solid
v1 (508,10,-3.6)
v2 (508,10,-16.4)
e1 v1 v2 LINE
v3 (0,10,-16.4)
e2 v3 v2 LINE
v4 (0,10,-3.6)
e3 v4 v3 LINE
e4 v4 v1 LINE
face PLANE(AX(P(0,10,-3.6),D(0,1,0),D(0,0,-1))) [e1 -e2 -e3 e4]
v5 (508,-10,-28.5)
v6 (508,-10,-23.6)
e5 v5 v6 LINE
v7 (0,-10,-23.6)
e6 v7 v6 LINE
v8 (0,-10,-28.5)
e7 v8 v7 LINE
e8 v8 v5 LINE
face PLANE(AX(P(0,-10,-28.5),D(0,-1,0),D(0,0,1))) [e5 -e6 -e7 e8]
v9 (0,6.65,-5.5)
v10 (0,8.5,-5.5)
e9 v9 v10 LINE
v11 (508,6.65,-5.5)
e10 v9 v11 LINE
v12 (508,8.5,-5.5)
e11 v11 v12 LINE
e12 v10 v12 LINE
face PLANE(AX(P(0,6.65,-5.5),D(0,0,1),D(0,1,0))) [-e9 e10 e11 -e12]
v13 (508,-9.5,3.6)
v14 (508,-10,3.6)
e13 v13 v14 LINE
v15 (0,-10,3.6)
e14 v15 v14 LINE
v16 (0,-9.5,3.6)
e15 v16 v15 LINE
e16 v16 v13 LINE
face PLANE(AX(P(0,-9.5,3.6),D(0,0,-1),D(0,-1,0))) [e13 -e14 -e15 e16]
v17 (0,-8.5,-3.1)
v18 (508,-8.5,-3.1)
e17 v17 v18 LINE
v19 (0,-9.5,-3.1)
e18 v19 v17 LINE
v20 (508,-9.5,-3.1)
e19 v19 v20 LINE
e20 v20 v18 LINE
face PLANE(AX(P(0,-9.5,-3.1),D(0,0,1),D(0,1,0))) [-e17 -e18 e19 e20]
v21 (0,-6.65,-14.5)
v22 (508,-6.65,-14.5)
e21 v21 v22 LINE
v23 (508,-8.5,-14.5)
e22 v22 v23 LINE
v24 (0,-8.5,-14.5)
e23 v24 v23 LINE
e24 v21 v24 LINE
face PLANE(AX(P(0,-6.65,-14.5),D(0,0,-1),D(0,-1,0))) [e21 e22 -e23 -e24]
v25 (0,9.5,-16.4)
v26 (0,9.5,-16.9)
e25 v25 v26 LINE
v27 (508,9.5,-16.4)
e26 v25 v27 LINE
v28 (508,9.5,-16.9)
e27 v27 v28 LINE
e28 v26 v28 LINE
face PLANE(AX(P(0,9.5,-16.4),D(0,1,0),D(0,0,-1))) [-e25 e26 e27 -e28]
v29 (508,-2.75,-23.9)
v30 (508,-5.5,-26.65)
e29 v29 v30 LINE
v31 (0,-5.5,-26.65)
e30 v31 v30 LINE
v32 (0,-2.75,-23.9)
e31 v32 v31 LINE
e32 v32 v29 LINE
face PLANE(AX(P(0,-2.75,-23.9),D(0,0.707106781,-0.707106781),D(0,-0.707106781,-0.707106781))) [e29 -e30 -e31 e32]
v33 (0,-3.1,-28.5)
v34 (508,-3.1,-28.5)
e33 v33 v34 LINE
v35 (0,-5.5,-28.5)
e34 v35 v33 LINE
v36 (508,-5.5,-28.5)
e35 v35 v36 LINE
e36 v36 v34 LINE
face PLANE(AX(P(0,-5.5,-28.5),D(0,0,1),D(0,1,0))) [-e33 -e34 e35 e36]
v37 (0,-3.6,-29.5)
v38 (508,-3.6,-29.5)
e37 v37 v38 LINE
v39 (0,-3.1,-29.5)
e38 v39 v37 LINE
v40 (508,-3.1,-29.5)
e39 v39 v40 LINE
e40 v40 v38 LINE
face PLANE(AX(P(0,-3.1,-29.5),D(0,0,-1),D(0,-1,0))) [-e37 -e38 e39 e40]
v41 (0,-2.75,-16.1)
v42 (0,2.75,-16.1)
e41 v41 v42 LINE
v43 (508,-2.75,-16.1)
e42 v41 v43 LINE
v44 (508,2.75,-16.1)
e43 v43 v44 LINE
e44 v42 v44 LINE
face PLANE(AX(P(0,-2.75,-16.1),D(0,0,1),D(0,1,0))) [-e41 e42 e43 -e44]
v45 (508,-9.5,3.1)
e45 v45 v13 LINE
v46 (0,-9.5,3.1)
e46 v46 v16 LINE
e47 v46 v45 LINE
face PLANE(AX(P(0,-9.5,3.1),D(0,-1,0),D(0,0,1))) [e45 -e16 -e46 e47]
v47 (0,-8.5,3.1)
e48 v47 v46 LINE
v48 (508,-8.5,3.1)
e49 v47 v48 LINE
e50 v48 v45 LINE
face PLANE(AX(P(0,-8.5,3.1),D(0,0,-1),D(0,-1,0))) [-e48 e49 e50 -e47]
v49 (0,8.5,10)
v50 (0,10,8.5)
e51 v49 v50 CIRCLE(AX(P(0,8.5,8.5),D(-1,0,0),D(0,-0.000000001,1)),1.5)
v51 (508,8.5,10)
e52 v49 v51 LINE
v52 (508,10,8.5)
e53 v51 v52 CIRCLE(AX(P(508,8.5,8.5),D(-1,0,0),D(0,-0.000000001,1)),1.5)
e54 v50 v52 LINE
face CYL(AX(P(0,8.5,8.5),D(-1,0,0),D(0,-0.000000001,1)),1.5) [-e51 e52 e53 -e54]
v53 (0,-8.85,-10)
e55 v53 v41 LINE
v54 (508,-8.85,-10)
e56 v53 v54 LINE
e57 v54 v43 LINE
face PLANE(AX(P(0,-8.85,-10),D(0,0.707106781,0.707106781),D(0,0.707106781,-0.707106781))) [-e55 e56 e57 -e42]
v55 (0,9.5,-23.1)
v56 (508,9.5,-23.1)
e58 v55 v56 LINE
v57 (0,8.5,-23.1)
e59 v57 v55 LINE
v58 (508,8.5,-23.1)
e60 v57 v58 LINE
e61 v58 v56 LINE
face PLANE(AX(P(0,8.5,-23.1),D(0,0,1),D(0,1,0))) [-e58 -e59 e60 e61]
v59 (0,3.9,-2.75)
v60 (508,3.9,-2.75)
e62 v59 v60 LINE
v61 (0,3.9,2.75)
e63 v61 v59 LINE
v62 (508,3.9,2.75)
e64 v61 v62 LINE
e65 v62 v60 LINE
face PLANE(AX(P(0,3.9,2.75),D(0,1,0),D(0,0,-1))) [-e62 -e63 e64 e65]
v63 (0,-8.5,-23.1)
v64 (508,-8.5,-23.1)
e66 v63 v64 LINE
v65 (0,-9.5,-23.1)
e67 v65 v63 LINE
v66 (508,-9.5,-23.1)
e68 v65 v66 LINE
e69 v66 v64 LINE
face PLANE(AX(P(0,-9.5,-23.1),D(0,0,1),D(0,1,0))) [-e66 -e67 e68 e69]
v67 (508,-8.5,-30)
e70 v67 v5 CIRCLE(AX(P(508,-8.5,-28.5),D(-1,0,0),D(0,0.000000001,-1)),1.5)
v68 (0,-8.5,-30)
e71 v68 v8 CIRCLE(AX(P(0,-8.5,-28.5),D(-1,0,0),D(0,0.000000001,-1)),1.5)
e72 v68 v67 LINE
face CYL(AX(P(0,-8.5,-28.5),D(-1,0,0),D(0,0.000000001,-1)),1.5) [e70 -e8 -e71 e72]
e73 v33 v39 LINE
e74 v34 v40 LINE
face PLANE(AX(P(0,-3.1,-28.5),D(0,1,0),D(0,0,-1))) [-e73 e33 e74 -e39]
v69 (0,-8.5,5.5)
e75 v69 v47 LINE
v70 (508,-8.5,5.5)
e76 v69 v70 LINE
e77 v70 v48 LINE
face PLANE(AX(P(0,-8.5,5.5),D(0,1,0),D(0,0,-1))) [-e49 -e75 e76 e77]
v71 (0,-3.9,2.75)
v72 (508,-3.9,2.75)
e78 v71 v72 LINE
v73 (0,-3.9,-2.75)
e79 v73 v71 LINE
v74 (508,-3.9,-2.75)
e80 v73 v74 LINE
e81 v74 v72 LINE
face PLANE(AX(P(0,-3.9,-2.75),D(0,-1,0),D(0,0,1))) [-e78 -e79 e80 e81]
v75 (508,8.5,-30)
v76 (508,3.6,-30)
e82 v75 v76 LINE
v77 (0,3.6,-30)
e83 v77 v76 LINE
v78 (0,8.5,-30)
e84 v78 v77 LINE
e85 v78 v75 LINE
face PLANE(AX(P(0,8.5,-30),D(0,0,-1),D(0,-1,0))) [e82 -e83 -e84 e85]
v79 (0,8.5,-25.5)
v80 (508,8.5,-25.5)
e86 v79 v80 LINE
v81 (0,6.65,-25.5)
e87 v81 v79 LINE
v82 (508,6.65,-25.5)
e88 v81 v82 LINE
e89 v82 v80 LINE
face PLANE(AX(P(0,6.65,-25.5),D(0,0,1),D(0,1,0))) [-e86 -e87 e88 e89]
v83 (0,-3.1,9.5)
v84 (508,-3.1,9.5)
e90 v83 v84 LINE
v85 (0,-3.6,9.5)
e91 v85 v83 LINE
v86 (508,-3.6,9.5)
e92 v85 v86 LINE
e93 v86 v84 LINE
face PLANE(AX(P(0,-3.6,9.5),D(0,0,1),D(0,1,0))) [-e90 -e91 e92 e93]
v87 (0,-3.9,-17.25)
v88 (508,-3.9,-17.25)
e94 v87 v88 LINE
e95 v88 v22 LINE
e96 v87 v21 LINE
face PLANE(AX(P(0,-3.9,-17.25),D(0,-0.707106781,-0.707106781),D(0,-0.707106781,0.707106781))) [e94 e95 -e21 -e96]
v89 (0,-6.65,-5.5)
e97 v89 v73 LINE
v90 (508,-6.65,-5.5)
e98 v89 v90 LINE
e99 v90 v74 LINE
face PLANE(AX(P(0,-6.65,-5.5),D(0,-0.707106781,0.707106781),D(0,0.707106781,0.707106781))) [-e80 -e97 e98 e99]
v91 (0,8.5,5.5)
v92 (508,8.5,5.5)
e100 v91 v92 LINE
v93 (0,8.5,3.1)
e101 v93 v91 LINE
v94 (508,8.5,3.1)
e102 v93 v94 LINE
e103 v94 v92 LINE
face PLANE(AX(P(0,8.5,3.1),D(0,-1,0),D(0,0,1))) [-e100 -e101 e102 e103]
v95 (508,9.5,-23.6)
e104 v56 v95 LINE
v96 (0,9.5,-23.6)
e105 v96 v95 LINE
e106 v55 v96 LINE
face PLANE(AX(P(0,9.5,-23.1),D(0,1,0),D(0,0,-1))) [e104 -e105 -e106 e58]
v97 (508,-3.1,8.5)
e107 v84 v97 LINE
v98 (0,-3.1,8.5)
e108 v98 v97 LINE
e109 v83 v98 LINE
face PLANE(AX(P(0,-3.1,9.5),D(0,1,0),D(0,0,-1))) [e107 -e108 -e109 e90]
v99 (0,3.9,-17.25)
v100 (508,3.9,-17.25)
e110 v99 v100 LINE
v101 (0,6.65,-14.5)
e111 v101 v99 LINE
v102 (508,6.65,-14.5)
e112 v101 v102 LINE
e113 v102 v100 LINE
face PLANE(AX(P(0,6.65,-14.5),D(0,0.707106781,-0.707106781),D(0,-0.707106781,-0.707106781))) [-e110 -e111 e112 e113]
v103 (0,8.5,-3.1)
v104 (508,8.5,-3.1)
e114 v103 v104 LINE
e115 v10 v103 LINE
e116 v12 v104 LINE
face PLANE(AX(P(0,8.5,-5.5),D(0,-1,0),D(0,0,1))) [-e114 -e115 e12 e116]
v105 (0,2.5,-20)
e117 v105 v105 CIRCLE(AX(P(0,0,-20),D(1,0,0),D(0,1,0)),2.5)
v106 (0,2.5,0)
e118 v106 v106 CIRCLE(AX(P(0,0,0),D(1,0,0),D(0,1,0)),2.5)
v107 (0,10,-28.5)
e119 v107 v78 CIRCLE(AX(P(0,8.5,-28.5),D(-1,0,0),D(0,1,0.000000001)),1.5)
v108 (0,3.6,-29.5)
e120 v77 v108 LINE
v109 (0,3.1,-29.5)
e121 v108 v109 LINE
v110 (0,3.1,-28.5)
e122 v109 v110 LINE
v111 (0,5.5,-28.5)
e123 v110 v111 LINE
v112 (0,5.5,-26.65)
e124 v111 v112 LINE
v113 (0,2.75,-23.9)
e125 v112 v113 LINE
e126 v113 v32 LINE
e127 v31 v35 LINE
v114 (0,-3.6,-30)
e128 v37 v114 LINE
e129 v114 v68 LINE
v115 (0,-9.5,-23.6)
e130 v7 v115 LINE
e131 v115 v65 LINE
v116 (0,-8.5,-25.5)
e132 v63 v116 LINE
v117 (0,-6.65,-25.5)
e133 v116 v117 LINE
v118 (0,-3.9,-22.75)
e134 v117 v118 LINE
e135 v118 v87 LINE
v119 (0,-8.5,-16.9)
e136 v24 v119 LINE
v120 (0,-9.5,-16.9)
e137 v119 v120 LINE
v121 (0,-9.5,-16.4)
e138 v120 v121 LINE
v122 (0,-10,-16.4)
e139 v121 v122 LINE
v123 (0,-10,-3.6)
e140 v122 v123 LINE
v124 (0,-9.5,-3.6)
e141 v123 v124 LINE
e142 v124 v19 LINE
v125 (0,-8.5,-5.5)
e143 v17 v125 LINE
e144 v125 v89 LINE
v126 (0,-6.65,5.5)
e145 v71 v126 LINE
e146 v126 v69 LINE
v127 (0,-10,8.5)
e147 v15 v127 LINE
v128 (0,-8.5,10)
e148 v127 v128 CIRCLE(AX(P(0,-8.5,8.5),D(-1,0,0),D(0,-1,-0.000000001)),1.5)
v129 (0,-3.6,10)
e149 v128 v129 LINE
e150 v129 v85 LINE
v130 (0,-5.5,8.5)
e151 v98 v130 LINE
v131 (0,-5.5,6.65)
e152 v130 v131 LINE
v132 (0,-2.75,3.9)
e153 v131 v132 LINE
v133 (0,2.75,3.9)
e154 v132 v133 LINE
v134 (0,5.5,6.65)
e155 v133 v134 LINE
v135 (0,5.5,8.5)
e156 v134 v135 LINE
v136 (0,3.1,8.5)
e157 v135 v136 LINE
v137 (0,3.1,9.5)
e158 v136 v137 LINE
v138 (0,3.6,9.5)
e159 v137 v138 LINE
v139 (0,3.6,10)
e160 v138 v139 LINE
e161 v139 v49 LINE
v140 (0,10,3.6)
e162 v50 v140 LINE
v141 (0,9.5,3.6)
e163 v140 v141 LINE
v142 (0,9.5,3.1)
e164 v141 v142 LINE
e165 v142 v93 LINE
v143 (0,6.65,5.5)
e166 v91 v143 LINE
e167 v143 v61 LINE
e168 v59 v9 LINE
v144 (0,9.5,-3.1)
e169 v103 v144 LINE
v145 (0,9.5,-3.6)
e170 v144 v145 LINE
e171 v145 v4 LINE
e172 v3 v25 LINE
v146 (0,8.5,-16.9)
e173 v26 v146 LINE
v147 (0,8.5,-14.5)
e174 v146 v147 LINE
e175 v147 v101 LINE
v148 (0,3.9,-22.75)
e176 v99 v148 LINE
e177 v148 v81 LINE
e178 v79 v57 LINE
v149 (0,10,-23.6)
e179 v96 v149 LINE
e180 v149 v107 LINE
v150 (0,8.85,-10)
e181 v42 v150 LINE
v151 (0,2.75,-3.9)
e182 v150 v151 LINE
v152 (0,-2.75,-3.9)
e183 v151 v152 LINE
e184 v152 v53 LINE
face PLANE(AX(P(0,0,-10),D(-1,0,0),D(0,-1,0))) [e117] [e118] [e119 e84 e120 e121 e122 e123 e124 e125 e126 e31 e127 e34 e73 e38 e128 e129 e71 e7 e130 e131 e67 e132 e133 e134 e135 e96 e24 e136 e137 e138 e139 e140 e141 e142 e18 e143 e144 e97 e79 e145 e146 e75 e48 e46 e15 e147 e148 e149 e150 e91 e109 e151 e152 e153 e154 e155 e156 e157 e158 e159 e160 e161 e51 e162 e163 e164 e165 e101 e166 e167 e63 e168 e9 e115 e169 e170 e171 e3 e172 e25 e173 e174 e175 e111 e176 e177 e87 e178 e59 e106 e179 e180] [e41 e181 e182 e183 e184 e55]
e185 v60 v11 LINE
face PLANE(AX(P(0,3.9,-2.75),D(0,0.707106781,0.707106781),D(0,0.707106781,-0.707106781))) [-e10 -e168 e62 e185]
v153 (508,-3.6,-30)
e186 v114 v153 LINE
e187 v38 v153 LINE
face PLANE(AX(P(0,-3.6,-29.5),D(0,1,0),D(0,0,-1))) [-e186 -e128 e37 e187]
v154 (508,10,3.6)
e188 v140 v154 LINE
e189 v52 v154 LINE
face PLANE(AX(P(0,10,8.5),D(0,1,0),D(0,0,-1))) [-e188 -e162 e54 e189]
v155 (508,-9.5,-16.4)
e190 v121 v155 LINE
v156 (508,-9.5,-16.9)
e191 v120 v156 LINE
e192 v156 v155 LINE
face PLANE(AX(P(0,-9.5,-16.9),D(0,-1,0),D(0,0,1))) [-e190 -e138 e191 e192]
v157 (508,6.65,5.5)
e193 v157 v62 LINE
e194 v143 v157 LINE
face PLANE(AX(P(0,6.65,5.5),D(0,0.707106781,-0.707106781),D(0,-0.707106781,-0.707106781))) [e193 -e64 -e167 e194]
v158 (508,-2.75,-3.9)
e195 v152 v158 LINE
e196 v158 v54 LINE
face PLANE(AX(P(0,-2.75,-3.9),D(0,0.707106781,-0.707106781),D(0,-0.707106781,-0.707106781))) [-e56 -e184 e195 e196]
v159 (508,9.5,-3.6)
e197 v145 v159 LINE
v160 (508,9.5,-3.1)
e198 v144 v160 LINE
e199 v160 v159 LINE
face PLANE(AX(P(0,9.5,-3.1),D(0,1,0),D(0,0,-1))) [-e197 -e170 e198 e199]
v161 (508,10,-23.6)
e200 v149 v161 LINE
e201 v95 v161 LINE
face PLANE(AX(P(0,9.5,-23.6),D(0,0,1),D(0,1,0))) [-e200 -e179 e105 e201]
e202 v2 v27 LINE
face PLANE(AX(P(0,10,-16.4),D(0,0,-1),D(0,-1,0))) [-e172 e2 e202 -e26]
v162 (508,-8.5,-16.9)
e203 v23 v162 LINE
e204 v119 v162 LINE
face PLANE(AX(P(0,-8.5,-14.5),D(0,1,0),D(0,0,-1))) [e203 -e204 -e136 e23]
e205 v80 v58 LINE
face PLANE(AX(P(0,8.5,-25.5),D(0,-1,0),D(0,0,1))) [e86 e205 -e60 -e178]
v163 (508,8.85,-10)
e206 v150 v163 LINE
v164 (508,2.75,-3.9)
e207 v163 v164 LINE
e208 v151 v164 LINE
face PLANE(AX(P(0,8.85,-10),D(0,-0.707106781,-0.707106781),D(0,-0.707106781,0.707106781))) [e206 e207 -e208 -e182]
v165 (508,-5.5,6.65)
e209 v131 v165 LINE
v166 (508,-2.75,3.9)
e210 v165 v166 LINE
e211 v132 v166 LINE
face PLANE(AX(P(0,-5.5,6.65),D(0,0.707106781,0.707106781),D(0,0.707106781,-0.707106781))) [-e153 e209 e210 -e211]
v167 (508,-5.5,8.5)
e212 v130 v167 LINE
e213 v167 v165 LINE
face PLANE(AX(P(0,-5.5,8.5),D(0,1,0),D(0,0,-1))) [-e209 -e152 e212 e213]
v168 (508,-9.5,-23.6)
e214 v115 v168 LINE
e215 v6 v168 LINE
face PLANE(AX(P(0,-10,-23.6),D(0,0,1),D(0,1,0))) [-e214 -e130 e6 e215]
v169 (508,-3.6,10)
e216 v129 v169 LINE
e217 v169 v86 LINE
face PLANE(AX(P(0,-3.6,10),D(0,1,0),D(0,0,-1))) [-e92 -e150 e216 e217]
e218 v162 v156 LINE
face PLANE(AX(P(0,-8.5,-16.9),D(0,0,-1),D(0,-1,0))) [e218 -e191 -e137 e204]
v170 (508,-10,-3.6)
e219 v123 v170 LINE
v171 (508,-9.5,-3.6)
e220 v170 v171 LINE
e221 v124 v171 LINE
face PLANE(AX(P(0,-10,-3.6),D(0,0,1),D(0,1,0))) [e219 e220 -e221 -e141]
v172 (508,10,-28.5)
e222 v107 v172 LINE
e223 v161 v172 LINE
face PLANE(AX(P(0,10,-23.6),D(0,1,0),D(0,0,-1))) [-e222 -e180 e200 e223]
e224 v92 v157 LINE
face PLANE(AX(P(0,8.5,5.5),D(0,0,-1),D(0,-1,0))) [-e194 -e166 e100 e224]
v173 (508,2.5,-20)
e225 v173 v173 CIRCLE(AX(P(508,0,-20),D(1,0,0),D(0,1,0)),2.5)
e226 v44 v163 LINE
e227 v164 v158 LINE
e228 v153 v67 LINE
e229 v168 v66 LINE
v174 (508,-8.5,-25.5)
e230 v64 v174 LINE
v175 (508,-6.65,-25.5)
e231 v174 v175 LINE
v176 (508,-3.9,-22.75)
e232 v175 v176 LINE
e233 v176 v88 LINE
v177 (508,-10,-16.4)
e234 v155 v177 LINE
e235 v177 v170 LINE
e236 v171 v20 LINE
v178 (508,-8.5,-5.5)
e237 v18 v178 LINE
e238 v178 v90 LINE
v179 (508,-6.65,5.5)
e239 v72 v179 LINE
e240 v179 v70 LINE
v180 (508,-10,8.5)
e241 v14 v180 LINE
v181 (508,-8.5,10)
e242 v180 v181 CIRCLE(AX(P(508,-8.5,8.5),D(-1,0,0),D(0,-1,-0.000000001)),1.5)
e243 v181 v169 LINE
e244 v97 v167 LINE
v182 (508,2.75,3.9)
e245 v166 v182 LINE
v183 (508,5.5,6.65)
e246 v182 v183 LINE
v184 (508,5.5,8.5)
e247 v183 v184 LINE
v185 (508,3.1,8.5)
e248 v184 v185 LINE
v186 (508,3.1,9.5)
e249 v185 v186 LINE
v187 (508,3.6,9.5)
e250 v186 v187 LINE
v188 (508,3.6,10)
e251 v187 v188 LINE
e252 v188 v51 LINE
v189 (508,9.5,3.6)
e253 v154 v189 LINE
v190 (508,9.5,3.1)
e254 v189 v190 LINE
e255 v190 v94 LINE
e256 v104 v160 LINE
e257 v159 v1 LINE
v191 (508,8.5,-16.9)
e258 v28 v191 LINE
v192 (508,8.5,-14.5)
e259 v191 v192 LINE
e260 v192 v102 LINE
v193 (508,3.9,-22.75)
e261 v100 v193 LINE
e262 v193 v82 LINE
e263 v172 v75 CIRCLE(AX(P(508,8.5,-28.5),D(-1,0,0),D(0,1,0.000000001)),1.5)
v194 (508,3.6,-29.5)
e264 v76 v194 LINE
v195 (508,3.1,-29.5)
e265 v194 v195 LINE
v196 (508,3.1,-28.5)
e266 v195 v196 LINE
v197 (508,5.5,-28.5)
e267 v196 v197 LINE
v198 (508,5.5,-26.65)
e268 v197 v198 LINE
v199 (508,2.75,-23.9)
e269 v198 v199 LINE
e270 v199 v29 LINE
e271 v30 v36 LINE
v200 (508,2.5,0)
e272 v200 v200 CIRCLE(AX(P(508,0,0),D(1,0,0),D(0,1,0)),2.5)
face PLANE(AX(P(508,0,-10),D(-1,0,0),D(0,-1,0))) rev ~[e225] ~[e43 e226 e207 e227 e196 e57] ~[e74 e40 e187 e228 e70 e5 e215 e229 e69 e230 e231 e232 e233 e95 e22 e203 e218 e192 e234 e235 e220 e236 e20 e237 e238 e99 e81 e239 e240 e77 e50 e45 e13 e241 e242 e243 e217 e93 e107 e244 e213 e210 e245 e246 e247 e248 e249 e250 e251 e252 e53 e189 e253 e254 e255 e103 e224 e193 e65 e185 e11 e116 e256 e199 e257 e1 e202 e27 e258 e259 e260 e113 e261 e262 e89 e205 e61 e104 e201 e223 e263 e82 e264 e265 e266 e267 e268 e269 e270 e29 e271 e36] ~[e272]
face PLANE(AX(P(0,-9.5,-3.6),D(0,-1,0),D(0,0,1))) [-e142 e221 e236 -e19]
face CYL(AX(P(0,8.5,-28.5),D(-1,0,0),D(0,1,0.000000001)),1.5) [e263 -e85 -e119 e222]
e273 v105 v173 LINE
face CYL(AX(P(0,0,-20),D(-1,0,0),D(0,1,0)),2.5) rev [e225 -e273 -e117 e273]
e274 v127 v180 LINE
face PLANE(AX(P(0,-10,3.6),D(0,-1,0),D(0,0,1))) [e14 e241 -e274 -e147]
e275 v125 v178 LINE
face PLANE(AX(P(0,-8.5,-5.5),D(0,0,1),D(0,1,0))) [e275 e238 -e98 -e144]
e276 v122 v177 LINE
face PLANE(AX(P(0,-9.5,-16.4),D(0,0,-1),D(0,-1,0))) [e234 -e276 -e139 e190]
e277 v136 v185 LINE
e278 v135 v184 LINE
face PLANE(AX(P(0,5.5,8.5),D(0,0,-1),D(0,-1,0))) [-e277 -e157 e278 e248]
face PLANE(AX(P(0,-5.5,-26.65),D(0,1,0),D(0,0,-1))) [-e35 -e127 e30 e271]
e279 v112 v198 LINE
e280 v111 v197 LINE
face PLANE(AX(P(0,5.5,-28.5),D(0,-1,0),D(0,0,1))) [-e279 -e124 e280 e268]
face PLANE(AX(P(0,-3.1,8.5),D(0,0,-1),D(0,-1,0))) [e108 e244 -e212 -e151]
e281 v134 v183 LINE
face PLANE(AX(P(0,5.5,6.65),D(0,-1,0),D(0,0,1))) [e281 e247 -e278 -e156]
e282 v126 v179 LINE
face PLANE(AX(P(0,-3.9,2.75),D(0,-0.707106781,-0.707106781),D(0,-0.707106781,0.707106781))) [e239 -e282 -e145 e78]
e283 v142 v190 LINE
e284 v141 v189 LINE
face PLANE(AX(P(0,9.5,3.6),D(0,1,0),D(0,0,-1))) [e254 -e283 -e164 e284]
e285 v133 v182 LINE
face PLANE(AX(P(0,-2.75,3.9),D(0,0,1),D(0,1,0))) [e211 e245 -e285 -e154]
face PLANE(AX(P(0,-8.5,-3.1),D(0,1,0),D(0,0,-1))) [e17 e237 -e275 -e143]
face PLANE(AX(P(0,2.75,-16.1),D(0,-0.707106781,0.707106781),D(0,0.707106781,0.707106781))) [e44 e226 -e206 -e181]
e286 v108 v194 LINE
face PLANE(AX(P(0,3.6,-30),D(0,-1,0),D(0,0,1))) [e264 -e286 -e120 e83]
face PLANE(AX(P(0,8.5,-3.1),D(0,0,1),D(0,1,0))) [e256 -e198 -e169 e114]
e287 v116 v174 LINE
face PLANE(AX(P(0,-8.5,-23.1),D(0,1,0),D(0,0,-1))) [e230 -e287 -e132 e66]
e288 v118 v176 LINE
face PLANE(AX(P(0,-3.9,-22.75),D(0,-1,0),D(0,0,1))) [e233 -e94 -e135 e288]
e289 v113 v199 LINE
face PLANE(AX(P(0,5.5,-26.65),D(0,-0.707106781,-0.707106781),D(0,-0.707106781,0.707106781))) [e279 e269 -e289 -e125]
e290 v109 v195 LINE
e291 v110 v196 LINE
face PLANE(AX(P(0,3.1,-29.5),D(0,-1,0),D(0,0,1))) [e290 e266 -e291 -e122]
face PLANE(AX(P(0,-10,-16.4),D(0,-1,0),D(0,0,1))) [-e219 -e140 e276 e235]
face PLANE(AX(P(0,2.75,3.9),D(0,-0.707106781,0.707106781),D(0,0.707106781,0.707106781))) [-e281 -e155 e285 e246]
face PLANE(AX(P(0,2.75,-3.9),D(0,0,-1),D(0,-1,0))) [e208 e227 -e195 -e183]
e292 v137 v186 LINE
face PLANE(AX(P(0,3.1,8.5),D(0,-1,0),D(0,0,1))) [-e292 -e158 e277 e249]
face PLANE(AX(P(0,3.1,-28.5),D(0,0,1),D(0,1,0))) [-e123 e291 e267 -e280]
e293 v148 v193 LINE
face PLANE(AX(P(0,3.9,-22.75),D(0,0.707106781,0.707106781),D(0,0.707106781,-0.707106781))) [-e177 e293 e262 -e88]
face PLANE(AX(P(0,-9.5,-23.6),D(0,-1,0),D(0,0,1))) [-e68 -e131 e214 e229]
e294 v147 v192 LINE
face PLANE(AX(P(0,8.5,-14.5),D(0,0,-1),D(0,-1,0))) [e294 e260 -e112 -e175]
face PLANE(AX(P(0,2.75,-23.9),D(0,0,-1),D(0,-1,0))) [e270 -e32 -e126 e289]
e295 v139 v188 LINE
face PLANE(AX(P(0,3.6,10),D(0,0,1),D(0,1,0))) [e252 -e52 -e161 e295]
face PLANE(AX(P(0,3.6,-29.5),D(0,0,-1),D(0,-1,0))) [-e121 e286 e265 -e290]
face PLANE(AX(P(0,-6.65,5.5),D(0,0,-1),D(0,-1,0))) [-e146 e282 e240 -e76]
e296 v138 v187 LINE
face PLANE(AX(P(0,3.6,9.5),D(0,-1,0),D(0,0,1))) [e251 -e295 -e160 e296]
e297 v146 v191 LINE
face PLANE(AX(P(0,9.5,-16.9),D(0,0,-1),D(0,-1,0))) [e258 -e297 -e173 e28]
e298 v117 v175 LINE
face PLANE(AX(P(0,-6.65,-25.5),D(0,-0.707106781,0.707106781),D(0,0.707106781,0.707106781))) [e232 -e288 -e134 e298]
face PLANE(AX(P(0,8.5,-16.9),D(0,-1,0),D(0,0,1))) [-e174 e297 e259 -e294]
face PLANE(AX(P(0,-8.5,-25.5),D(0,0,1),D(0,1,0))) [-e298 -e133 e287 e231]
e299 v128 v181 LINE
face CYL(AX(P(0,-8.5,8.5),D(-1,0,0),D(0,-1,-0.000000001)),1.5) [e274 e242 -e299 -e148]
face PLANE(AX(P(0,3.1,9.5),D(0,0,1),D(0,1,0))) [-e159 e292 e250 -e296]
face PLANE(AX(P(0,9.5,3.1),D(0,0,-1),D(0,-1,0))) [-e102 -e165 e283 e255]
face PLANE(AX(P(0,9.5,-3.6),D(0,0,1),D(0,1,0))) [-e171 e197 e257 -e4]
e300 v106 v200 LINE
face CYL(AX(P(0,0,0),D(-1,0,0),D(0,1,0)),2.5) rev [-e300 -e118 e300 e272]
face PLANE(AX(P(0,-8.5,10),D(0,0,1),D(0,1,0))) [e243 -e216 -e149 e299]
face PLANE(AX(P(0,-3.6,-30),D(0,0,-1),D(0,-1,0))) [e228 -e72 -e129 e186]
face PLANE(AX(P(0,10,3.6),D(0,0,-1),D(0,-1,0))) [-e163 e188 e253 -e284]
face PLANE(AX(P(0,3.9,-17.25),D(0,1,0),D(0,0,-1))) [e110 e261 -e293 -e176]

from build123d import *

# Parameters (mm, degrees)
SKETCH11_R               = 2.5
F_20_X_40_X_T1_5_1_DEPTH = 508


with BuildPart() as part:
    # Sketch11 → 铝型材 20 X 40 X T1.5(1) (new body)
    with BuildSketch(Plane.YZ):
        with BuildLine():
            Line((-3.6, 10), (-3.6, 9.5))
            Line((-3.6, 9.5), (-3.1, 9.5))
            Line((-3.1, 9.5), (-3.1, 8.5))
            Line((-3.1, 8.5), (-5.5, 8.5))
            Line((-5.5, 8.5), (-5.5, 6.65))
            Line((-5.5, 6.65), (-2.75, 3.9))
            Line((-2.75, 3.9), (2.75, 3.9))
            Line((2.75, 3.9), (5.5, 6.65))
            Line((5.5, 6.65), (5.5, 8.5))
            Line((5.5, 8.5), (3.1, 8.5))
            Line((3.1, 8.5), (3.1, 9.5))
            Line((3.1, 9.5), (3.6, 9.5))
            Line((3.6, 9.5), (3.6, 10))
            Line((3.6, 10), (8.5, 10))
            ThreePointArc((8.5, 10), (9.560660172, 9.560660172), (10, 8.5))
            Line((10, 8.5), (10, 3.6))
            Line((10, 3.6), (9.5, 3.6))
            Line((9.5, 3.6), (9.5, 3.1))
            Line((9.5, 3.1), (8.5, 3.1))
            Line((8.5, 3.1), (8.5, 5.5))
            Line((8.5, 5.5), (6.65, 5.5))
            Line((6.65, 5.5), (3.9, 2.75))
            Line((3.9, 2.75), (3.9, -2.75))
            Line((3.9, -2.75), (6.65, -5.5))
            Line((6.65, -5.5), (8.5, -5.5))
            Line((8.5, -5.5), (8.5, -3.1))
            Line((8.5, -3.1), (9.5, -3.1))
            Line((9.5, -3.1), (9.5, -3.6))
            Line((9.5, -3.6), (10, -3.6))
            Line((10, -3.6), (10, -16.4))
            Line((10, -16.4), (9.5, -16.4))
            Line((9.5, -16.4), (9.5, -16.9))
            Line((9.5, -16.9), (8.5, -16.9))
            Line((8.5, -16.9), (8.5, -14.5))
            Line((8.5, -14.5), (6.65, -14.5))
            Line((6.65, -14.5), (3.9, -17.25))
            Line((3.9, -17.25), (3.9, -22.75))
            Line((3.9, -22.75), (6.65, -25.5))
            Line((6.65, -25.5), (8.5, -25.5))
            Line((8.5, -25.5), (8.5, -23.1))
            Line((8.5, -23.1), (9.5, -23.1))
            Line((9.5, -23.1), (9.5, -23.6))
            Line((9.5, -23.6), (10, -23.6))
            Line((10, -23.6), (10, -28.5))
            ThreePointArc((10, -28.5), (9.560660172, -29.560660172), (8.5, -30))
            Line((8.5, -30), (3.6, -30))
            Line((3.6, -30), (3.6, -29.5))
            Line((3.6, -29.5), (3.1, -29.5))
            Line((3.1, -29.5), (3.1, -28.5))
            Line((3.1, -28.5), (5.5, -28.5))
            Line((5.5, -28.5), (5.5, -26.65))
            Line((5.5, -26.65), (2.75, -23.9))
            Line((2.75, -23.9), (-2.75, -23.9))
            Line((-2.75, -23.9), (-5.5, -26.65))
            Line((-5.5, -26.65), (-5.5, -28.5))
            Line((-5.5, -28.5), (-3.1, -28.5))
            Line((-3.1, -28.5), (-3.1, -29.5))
            Line((-3.1, -29.5), (-3.6, -29.5))
            Line((-3.6, -29.5), (-3.6, -30))
            Line((-3.6, -30), (-8.5, -30))
            ThreePointArc((-8.5, -30), (-9.560660172, -29.560660172), (-10, -28.5))
            Line((-10, -28.5), (-10, -23.6))
            Line((-10, -23.6), (-9.5, -23.6))
            Line((-9.5, -23.6), (-9.5, -23.1))
            Line((-9.5, -23.1), (-8.5, -23.1))
            Line((-8.5, -23.1), (-8.5, -25.5))
            Line((-8.5, -25.5), (-6.65, -25.5))
            Line((-6.65, -25.5), (-3.9, -22.75))
            Line((-3.9, -22.75), (-3.9, -17.25))
            Line((-3.9, -17.25), (-6.65, -14.5))
            Line((-6.65, -14.5), (-8.5, -14.5))
            Line((-8.5, -14.5), (-8.5, -16.9))
            Line((-8.5, -16.9), (-9.5, -16.9))
            Line((-9.5, -16.9), (-9.5, -16.4))
            Line((-9.5, -16.4), (-10, -16.4))
            Line((-10, -16.4), (-10, -3.6))
            Line((-10, -3.6), (-9.5, -3.6))
            Line((-9.5, -3.6), (-9.5, -3.1))
            Line((-9.5, -3.1), (-8.5, -3.1))
            Line((-8.5, -3.1), (-8.5, -5.5))
            Line((-8.5, -5.5), (-6.65, -5.5))
            Line((-6.65, -5.5), (-3.9, -2.75))
            Line((-3.9, -2.75), (-3.9, 2.75))
            Line((-3.9, 2.75), (-6.65, 5.5))
            Line((-6.65, 5.5), (-8.5, 5.5))
            Line((-8.5, 5.5), (-8.5, 3.1))
            Line((-8.5, 3.1), (-9.5, 3.1))
            Line((-9.5, 3.1), (-9.5, 3.6))
            Line((-9.5, 3.6), (-10, 3.6))
            Line((-10, 3.6), (-10, 8.5))
            ThreePointArc((-10, 8.5), (-9.560660172, 9.560660172), (-8.5, 10))
            Line((-8.5, 10), (-3.6, 10))
        make_face()
        Circle(SKETCH11_R, mode=Mode.SUBTRACT)
        with Locations((0, -20)):
            Circle(SKETCH11_R, mode=Mode.SUBTRACT)
        Polygon((8.85, -10), (2.75, -3.9), (-2.75, -3.9), (-8.85, -10), (-2.75, -16.1), (2.75, -16.1), align=None, mode=Mode.SUBTRACT)
    extrude(amount=F_20_X_40_X_T1_5_1_DEPTH)


solid = part.part
